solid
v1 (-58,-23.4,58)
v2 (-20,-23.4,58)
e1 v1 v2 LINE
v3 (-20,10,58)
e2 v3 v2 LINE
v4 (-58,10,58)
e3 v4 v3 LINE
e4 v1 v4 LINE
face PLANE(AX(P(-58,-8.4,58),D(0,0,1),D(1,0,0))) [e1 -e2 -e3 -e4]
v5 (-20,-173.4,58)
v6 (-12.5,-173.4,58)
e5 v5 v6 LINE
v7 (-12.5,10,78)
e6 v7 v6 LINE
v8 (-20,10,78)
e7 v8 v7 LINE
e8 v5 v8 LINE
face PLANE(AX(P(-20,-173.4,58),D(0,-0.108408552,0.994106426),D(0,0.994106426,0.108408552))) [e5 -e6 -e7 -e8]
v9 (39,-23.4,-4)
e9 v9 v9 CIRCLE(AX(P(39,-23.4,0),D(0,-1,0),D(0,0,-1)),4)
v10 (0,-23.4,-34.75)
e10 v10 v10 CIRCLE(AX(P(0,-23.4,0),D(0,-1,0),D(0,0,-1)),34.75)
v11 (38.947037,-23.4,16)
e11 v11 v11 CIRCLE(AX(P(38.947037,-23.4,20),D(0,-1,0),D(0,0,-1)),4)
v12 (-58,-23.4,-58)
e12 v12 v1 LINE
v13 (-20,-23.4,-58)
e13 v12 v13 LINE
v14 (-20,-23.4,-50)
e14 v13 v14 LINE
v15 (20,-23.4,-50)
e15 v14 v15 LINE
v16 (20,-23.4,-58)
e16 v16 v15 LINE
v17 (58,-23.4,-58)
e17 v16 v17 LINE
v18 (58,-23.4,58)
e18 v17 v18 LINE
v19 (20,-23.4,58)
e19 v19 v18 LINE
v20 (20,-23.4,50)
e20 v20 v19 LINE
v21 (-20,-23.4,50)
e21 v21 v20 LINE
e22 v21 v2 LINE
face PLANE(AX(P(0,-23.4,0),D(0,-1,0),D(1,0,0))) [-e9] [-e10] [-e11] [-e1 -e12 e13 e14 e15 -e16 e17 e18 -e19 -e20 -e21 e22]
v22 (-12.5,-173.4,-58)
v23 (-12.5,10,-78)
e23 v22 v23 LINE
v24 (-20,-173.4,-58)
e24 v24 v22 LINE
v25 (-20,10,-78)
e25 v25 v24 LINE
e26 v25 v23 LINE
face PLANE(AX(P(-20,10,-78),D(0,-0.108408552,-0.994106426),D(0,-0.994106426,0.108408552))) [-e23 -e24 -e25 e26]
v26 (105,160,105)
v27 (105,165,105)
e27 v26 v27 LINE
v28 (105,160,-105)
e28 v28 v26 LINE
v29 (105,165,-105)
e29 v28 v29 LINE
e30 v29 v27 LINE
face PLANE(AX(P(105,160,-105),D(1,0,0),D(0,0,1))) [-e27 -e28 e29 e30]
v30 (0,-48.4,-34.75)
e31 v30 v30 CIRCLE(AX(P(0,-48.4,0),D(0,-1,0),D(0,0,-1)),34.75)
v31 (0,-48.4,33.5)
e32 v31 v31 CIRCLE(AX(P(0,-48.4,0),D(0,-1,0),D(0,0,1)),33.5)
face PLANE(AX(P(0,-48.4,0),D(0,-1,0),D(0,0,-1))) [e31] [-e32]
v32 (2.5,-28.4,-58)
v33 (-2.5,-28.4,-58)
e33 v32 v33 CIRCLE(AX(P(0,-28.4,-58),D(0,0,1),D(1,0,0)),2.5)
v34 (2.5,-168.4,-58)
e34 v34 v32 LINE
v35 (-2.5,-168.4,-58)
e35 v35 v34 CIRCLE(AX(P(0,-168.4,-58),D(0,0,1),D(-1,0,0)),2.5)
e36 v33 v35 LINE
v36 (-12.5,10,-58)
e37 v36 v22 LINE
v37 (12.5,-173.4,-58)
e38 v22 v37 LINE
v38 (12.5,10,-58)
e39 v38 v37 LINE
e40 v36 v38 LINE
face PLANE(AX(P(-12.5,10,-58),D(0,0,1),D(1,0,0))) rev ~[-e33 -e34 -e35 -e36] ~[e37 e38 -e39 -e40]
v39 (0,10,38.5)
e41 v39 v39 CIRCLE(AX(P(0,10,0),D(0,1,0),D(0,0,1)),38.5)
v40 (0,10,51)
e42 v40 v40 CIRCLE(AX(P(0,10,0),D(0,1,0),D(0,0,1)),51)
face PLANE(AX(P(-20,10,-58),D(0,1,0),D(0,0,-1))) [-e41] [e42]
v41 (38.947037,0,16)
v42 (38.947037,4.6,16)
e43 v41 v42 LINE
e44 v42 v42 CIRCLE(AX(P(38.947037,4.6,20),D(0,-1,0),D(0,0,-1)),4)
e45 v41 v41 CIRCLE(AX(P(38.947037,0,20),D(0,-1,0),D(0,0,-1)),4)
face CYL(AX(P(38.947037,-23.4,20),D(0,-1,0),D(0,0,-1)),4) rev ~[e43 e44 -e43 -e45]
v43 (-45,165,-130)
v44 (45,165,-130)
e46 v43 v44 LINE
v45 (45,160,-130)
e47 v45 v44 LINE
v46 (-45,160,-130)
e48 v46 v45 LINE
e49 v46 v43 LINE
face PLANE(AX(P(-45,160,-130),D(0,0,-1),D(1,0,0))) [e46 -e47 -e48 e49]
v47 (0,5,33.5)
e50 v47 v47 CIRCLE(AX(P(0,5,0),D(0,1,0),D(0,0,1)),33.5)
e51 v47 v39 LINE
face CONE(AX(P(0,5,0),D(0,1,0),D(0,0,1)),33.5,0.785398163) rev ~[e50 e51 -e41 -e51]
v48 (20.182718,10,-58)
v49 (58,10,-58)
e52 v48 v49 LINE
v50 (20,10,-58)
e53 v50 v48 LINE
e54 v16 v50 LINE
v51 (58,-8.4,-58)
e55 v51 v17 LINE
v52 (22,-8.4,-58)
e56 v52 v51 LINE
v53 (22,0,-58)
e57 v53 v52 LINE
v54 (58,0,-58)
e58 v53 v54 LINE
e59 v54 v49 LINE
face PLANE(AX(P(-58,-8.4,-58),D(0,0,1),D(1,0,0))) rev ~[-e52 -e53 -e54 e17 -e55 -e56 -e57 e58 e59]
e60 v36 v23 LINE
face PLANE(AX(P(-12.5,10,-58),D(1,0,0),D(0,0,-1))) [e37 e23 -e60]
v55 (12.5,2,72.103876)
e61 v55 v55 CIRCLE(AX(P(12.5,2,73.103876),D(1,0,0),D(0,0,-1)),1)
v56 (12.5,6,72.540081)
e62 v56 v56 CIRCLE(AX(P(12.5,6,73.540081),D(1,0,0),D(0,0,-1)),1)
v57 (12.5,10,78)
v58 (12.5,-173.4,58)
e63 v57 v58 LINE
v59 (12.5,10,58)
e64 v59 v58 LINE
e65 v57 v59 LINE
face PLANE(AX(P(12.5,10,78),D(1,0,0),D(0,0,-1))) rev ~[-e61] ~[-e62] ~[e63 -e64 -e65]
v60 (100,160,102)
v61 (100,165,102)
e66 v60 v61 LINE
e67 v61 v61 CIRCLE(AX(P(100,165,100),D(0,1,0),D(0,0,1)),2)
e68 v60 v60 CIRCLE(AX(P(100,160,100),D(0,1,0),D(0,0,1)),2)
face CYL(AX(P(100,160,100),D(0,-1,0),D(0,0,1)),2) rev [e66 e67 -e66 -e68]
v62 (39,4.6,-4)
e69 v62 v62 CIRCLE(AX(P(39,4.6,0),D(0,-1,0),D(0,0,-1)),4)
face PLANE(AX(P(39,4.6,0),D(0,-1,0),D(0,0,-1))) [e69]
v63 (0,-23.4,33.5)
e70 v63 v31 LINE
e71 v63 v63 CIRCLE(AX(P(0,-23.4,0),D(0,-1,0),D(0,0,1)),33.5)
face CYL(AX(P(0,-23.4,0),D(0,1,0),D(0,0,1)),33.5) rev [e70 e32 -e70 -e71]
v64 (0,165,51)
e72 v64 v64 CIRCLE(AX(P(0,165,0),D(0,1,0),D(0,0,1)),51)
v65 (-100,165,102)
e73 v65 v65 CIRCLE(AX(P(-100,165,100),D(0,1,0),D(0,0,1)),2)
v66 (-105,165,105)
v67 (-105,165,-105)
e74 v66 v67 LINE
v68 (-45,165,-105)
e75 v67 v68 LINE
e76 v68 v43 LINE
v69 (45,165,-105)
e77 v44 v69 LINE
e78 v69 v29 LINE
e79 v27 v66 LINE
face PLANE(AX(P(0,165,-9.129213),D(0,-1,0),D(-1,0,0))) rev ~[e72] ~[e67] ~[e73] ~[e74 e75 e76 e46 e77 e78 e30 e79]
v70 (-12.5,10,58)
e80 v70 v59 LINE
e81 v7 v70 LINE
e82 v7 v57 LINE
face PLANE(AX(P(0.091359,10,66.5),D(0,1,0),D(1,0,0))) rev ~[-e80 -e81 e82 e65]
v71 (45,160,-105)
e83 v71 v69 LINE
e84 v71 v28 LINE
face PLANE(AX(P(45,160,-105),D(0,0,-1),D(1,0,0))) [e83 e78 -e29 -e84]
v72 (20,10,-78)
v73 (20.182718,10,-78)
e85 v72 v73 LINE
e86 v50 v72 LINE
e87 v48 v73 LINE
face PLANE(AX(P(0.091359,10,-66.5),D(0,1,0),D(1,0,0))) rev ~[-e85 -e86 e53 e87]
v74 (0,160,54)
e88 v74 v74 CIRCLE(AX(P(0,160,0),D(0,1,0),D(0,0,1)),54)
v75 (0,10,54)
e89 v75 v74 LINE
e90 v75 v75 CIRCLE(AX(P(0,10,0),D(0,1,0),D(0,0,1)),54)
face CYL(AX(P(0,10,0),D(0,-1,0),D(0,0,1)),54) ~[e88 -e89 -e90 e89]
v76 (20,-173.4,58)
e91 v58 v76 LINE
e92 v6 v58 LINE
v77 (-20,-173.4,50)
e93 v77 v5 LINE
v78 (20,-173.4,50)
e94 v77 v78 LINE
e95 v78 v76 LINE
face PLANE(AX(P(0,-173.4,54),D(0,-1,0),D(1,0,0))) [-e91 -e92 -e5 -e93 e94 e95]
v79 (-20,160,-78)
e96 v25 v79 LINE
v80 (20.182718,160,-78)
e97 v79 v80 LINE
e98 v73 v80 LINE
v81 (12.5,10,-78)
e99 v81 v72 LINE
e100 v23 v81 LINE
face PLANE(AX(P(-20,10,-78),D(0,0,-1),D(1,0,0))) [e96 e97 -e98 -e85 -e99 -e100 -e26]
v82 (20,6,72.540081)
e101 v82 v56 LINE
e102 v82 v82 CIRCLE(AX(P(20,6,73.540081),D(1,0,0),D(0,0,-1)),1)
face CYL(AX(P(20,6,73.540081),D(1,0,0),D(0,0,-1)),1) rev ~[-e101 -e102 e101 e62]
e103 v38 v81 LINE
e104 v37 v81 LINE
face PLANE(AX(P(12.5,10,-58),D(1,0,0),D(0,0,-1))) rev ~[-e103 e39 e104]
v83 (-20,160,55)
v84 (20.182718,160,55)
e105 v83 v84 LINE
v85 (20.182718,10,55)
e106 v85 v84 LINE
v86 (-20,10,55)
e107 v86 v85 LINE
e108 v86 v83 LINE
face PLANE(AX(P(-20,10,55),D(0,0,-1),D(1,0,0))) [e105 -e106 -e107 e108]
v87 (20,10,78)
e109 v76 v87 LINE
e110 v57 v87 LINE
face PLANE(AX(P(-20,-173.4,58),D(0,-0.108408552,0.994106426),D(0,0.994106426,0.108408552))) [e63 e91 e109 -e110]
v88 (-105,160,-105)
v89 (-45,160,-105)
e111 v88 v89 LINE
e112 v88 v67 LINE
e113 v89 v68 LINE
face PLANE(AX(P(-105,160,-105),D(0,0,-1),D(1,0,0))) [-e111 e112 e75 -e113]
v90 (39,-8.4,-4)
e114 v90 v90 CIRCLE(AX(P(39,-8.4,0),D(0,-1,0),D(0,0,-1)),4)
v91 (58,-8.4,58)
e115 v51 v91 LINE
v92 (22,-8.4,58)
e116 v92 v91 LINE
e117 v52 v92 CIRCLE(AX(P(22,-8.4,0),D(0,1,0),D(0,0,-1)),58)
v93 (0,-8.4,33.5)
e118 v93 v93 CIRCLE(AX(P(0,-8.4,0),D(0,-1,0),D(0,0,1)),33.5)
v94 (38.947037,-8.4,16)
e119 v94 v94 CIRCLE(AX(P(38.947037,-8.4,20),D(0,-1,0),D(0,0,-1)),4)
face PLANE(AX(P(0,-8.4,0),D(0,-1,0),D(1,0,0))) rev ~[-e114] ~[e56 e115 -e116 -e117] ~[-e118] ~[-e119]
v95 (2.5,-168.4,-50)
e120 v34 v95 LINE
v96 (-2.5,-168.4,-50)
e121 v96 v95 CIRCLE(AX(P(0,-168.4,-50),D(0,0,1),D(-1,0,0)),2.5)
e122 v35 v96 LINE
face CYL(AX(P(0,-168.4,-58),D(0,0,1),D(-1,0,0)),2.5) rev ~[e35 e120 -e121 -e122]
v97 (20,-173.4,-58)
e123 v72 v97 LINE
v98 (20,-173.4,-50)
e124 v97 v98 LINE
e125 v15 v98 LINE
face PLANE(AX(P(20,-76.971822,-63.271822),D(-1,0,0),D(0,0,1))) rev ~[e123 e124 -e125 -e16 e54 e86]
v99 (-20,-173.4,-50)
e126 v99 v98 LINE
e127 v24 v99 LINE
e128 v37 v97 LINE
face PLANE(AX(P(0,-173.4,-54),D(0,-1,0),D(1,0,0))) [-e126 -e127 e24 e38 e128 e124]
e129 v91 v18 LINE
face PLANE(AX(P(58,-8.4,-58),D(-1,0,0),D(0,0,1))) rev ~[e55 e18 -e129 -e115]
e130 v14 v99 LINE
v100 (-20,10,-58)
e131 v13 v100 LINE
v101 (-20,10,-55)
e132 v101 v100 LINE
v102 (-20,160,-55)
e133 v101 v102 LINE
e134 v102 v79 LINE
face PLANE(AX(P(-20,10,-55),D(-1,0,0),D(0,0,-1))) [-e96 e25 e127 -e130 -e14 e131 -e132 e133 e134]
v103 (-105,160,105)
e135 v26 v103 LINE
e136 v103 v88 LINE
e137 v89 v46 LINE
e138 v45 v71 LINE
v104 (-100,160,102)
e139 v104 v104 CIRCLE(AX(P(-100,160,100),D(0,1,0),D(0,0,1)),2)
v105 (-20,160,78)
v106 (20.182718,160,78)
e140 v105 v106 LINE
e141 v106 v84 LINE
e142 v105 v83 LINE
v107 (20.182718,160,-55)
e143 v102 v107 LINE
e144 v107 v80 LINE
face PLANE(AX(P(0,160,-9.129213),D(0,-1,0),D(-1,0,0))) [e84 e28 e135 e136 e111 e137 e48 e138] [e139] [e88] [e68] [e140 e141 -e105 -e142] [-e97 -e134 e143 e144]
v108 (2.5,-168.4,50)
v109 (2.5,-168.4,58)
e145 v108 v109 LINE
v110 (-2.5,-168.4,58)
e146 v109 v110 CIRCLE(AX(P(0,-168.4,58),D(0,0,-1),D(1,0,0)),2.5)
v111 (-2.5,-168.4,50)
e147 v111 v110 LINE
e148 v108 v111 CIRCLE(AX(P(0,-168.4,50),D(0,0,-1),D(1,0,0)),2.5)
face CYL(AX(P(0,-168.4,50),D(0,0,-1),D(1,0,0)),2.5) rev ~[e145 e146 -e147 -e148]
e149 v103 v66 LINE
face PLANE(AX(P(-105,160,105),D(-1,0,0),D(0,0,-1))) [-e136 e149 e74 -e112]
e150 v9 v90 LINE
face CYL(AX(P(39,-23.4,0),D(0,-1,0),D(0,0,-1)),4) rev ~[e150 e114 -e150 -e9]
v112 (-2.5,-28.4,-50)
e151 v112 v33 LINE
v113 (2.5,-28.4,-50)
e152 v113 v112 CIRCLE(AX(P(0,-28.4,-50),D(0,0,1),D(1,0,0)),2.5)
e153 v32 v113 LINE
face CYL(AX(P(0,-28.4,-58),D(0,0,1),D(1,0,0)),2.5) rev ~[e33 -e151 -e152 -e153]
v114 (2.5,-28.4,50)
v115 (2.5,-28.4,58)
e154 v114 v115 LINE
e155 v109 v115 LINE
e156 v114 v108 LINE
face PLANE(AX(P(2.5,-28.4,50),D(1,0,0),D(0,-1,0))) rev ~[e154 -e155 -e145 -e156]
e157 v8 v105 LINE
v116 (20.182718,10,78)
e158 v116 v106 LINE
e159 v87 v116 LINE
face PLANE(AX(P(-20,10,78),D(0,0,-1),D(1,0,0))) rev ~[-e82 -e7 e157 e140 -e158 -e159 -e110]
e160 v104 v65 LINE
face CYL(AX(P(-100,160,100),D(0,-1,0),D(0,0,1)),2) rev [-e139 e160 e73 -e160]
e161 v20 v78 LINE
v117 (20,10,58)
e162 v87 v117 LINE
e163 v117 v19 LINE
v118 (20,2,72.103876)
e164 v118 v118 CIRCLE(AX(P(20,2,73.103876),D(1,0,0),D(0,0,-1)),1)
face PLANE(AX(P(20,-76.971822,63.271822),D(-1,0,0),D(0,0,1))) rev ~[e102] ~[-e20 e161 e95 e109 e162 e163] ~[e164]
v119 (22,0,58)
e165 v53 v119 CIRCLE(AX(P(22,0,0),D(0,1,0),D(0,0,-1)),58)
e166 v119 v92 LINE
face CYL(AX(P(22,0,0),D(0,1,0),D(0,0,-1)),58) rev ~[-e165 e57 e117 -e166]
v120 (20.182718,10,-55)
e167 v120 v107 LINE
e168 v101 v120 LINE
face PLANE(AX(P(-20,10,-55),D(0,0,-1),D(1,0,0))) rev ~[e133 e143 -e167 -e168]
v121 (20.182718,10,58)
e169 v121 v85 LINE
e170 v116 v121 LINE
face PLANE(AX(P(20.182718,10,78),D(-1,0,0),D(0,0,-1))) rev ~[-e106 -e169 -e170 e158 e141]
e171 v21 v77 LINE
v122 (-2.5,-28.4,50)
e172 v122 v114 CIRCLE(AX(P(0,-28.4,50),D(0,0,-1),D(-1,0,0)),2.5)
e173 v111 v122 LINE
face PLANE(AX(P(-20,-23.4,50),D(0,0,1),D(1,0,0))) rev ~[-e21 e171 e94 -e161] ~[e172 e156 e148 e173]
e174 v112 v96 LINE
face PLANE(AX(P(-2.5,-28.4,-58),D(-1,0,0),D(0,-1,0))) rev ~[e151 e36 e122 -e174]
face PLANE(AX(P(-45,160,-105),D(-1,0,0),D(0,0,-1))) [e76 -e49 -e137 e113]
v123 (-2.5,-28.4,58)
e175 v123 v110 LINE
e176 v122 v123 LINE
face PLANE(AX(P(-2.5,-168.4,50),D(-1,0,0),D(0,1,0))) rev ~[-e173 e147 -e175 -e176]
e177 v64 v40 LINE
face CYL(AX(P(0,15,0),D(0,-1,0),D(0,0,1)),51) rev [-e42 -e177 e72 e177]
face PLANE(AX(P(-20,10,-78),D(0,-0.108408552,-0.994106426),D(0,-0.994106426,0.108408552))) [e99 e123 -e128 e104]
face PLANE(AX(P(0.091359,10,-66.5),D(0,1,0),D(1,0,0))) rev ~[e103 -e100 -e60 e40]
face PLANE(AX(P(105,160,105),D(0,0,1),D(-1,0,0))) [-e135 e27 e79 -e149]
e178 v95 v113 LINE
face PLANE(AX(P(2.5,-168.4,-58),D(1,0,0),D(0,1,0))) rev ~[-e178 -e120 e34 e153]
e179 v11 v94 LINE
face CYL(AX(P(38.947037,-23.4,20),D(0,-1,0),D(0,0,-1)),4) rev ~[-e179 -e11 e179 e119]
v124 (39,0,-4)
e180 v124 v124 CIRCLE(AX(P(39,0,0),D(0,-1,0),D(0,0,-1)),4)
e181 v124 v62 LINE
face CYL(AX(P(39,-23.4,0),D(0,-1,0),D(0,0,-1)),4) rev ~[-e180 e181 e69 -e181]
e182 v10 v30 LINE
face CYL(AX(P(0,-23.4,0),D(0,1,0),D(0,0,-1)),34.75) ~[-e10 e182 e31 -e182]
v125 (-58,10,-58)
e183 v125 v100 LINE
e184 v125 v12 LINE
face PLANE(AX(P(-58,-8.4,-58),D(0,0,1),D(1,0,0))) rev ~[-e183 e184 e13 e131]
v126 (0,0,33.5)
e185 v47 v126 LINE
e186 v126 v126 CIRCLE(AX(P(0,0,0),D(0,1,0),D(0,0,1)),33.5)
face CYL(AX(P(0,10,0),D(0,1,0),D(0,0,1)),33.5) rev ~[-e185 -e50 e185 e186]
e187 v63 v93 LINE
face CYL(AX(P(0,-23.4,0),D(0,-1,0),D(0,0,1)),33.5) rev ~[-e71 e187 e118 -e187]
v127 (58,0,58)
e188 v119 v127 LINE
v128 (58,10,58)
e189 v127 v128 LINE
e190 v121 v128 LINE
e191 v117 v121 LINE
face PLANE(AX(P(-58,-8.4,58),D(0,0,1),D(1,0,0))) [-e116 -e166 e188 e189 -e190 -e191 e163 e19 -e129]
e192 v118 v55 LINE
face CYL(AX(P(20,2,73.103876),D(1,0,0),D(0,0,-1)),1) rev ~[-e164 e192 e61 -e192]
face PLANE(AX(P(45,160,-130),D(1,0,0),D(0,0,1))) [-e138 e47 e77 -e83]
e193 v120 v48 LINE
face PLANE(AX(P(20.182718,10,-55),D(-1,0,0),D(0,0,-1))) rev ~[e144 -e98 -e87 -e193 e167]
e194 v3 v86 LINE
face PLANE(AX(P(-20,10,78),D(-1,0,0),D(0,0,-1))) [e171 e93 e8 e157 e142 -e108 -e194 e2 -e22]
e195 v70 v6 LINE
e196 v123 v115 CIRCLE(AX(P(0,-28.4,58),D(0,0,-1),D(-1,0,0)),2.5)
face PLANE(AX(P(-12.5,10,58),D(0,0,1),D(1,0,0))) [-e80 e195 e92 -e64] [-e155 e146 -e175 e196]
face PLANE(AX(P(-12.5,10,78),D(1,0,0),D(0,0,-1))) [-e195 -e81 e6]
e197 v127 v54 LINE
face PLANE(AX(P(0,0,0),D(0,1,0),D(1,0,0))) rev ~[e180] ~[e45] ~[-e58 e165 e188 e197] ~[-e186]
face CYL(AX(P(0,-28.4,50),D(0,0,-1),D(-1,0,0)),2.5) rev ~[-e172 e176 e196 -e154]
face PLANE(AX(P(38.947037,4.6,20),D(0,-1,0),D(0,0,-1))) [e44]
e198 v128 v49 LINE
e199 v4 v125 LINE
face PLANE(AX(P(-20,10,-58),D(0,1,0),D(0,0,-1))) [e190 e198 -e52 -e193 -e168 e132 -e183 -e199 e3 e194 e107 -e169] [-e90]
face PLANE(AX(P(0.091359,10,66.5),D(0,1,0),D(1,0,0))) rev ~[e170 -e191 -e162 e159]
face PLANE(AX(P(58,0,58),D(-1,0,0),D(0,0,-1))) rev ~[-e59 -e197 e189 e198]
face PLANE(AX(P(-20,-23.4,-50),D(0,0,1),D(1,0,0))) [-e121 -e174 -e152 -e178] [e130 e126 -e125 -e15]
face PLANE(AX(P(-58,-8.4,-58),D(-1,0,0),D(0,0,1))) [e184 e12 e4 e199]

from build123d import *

# Parameters (mm, degrees)
SKETCH4_W                      = 116
SKETCH4_H                      = 116
BOSS_EXTRUDE1_DEPTH            = 10
SKETCH6_R                      = 33.5
CUT_EXTRUDE1_DEPTH             = 83.63171304
BOSS_EXTRUDE3_DEPTH            = 8.4
SKETCH10_W                     = 116
SKETCH10_H                     = 116
BOSS_EXTRUDE5_DEPTH            = 15
SKETCH11_R                     = 4
POSITIONING_HOLE_DEPTH         = 28
SKETCH23_R                     = 4
SNAPPING_HOLE_DEPTH            = 28
SKETCH13_R                     = 34.75
SKETCH13_R_2                   = 33.5
BOSS_EXTRUDE6_DEPTH            = 25
SKETCH24_W                     = 40
SKETCH24_H                     = 8
BOSS_EXTRUDE7_DEPTH            = 150
BOSS_EXTRUDE9_DEPTH            = 40
CUT_EXTRUDE6_DEPTH             = 8
CUT_EXTRUDE6_DIRECTION_2_REACH = 229.876
CUT_EXTRUDE7_REACH             = 225.194
CUT_EXTRUDE9_REACH             = 209.566
SKETCH37_W                     = 25
SKETCH37_H                     = 20
SKETCH12_R                     = 33.5
MAIN_HOLE_DEPTH                = 179.740034687
SKETCH42_R                     = 54
SKETCH42_R_2                   = 51
BOSS_EXTRUDE12_DEPTH           = 150
CHAMFER3_SIZE                  = 5
SKETCH44_W                     = 40.182717611
SKETCH44_H                     = 23
BOSS_EXTRUDE15_DEPTH           = 150
SKETCH41_R                     = 2
BOSS_EXTRUDE11_DEPTH           = 5
CUT_EXTRUDE12_START            = -150
SKETCH45_R                     = 51
CUT_EXTRUDE12_DEPTH            = 150
SKETCH46_R                     = 1
CUT_EXTRUDE13_DEPTH            = 25


with BuildPart() as part:
    # Sketch4 → Boss-Extrude1 (new body)
    with BuildSketch(Plane(origin=(0, 0, 0), x_dir=(1, 0, 0), z_dir=(0, 1, 0))):
        Rectangle(SKETCH4_W, SKETCH4_H)
    extrude(amount=BOSS_EXTRUDE1_DEPTH)

    # Sketch6 → Cut-Extrude1 (cut, through all)
    with BuildSketch(Plane(origin=(0, 10, 0), x_dir=(1, 0, 0), z_dir=(0, 1, 0))):
        with Locations(Location((0, 0, 0), (0, 0, 270))):
            Circle(SKETCH6_R)
    extrude(amount=-CUT_EXTRUDE1_DEPTH, mode=Mode.SUBTRACT)

    # Sketch8 → Boss-Extrude3 (add)
    with BuildSketch(Plane.XZ):
        with BuildLine():
            Line((-58, 58), (-58, -58))
            Line((-58, -58), (22, -58))
            ThreePointArc((22, -58), (-36, 0), (22, 58))
            Line((22, 58), (-58, 58))
        make_face()
    extrude(amount=BOSS_EXTRUDE3_DEPTH)

    # Sketch10 → Boss-Extrude5 (add)
    with BuildSketch(Plane.XZ.offset(8.4)):
        Rectangle(SKETCH10_W, SKETCH10_H)
    extrude(amount=BOSS_EXTRUDE5_DEPTH)

    # Sketch11 → positioning hole (cut)
    with BuildSketch(Plane.XZ.offset(23.4)):
        with Locations(Location((39, 0, 0), (0, 0, 270))):
            Circle(SKETCH11_R)
    extrude(amount=-POSITIONING_HOLE_DEPTH, mode=Mode.SUBTRACT)

    # Sketch23 → snapping hole (cut)
    with BuildSketch(Plane.XZ.offset(23.4)):
        with Locations(Location((38.947036647, 20, 0), (0, 0, 270))):
            Circle(SKETCH23_R)
    extrude(amount=-SNAPPING_HOLE_DEPTH, mode=Mode.SUBTRACT)

    # Sketch13 → Boss-Extrude6 (add)
    with BuildSketch(Plane.XZ.offset(23.4)):
        with Locations(Location((0, 0, 0), (0, 0, 270))):
            Circle(SKETCH13_R)
        with Locations(Location((0, 0, 0), (0, 0, 90))):
            Circle(SKETCH13_R_2, mode=Mode.SUBTRACT)
    extrude(amount=BOSS_EXTRUDE6_DEPTH)

    # Sketch24 → Boss-Extrude7 (add)
    with BuildSketch(Plane.XZ.offset(23.4)):
        with Locations((0, 54)):
            Rectangle(SKETCH24_W, SKETCH24_H)
        with Locations((0, -54)):
            Rectangle(SKETCH24_W, SKETCH24_H)
    extrude(amount=BOSS_EXTRUDE7_DEPTH)

    # Sketch28 → Boss-Extrude9 (add)
    with BuildSketch(Plane.ZY.offset(20)):
        Polygon((-58, -173.4), (-58, 10), (-78, 10), align=None)
        Polygon((58, 10), (58, -173.4), (78, 10), align=None)
    extrude(amount=-BOSS_EXTRUDE9_DEPTH)

    # Sketch31 → Cut-Extrude6 (cut)
    with BuildSketch(Plane(origin=(0, 0, -58), x_dir=(-1, 0, 0), z_dir=(0, 0, -1))):
        with BuildLine():
            Line((2.5, -28.4), (2.5, -168.4))
            ThreePointArc((2.5, -168.4), (0, -170.9), (-2.5, -168.4))
            Line((-2.5, -168.4), (-2.5, -28.4))
            ThreePointArc((-2.5, -28.4), (0, -25.9), (2.5, -28.4))
        make_face()
    extrude(amount=-CUT_EXTRUDE6_DEPTH, mode=Mode.SUBTRACT)

    # Cut-Extrude6 direction 2: up to this plane
    cut_extrude6_direction_2_end = Plane(origin=(20, 10, -78), z_dir=(0, -0.1084085524287415, -0.9941064257715594))
    # Sketch31 → Cut-Extrude6 direction 2 (cut, up to the surface)
    with BuildSketch(Plane(origin=(0, 0, -58), x_dir=(-1, 0, 0), z_dir=(0, 0, -1)), mode=Mode.PRIVATE) as cut_extrude6_direction_2_sk1:
        with BuildLine():
            Line((2.5, -28.4), (2.5, -168.4))
            ThreePointArc((2.5, -168.4), (0, -170.9), (-2.5, -168.4))
            Line((-2.5, -168.4), (-2.5, -28.4))
            ThreePointArc((-2.5, -28.4), (0, -25.9), (2.5, -28.4))
        make_face()
    cut_extrude6_direction_2_tool1 = split(extrude(cut_extrude6_direction_2_sk1.sketch, amount=CUT_EXTRUDE6_DIRECTION_2_REACH, mode=Mode.PRIVATE), bisect_by=cut_extrude6_direction_2_end, keep=Keep.BOTH, mode=Mode.PRIVATE)
    add(cut_extrude6_direction_2_tool1.solids().sort_by_distance((0, -98.4, -58))[0], mode=Mode.SUBTRACT)

    # Cut-Extrude7: up to this plane
    cut_extrude7_end = Plane(origin=(20, -173.4, 58), z_dir=(0, -0.1084085524287415, 0.9941064257715594))
    # Sketch34 → Cut-Extrude7 (cut, up to the surface)
    with BuildSketch(Plane(origin=(0, 0, 50), x_dir=(-1, 0, 0), z_dir=(0, 0, -1)), mode=Mode.PRIVATE) as cut_extrude7_sk1:
        with BuildLine():
            Line((-2.5, -28.4), (-2.5, -168.4))
            ThreePointArc((-2.5, -168.4), (0, -170.9), (2.5, -168.4))
            Line((2.5, -168.4), (2.5, -28.4))
            ThreePointArc((2.5, -28.4), (0, -25.9), (-2.5, -28.4))
        make_face()
    cut_extrude7_tool1 = split(extrude(cut_extrude7_sk1.sketch, amount=-CUT_EXTRUDE7_REACH, mode=Mode.PRIVATE), bisect_by=cut_extrude7_end, keep=Keep.BOTH, mode=Mode.PRIVATE)
    add(cut_extrude7_tool1.solids().sort_by_distance((0, -98.4, 50))[0], mode=Mode.SUBTRACT)

    # Sketch37 → Cut-Extrude9 (cut, up to next)
    with BuildSketch(Plane(origin=(0, 10, 0), x_dir=(1, 0, 0), z_dir=(0, 1, 0)), mode=Mode.PRIVATE) as cut_extrude9_sk1:
        with Locations((0, 68)):
            Rectangle(SKETCH37_W, SKETCH37_H)
    cut_extrude9_tool1 = extrude(cut_extrude9_sk1.sketch, amount=-CUT_EXTRUDE9_REACH, mode=Mode.PRIVATE) & part.part
    # Sketch37 → Cut-Extrude9 (cut, up to next)
    with BuildSketch(Plane(origin=(0, 10, 0), x_dir=(1, 0, 0), z_dir=(0, 1, 0)), mode=Mode.PRIVATE) as cut_extrude9_sk2:
        with Locations((0, -68)):
            Rectangle(SKETCH37_W, SKETCH37_H)
    cut_extrude9_tool2 = extrude(cut_extrude9_sk2.sketch, amount=-CUT_EXTRUDE9_REACH, mode=Mode.PRIVATE) & part.part
    add(cut_extrude9_tool1.solids().sort_by_distance((0, 10, -68))[0], mode=Mode.SUBTRACT)
    add(cut_extrude9_tool2.solids().sort_by_distance((0, 10, 68))[0], mode=Mode.SUBTRACT)

    # Sketch12 → main hole (cut, through all)
    with BuildSketch(Plane.XZ.offset(23.4)):
        with Locations(Location((0, 0, 0), (0, 0, 90))):
            Circle(SKETCH12_R)
    extrude(amount=-MAIN_HOLE_DEPTH, mode=Mode.SUBTRACT)

    # Sketch42 → Boss-Extrude12 (add)
    with BuildSketch(Plane(origin=(0, 10, 0), x_dir=(1, 0, 0), z_dir=(0, 1, 0))):
        with Locations(Location((0, 0, 0), (0, 0, 270))):
            Circle(SKETCH42_R)
        with Locations(Location((0, 0, 0), (0, 0, 270))):
            Circle(SKETCH42_R_2, mode=Mode.SUBTRACT)
    extrude(amount=BOSS_EXTRUDE12_DEPTH)

    # Chamfer3
    chamfer3_edges = [part.edges().sort_by_distance(p)[0] for p in [
        (0, 10, -33.5),
    ]]
    chamfer(chamfer3_edges, length=CHAMFER3_SIZE)

    # Sketch44 → Boss-Extrude15 (add)
    with BuildSketch(Plane(origin=(0, 10, 0), x_dir=(1, 0, 0), z_dir=(0, 1, 0))):
        with Locations((0.091358806, 66.5)):
            Rectangle(SKETCH44_W, SKETCH44_H)
        with Locations((0.091358806, -66.5)):
            Rectangle(SKETCH44_W, SKETCH44_H)
    extrude(amount=BOSS_EXTRUDE15_DEPTH)

    # Sketch41 → Boss-Extrude11 (add)
    with BuildSketch(Plane(origin=(0, 160, 0), x_dir=(1, 0, 0), z_dir=(0, 1, 0))):
        Polygon((45, 105), (105, 105), (105, -105), (-105, -105), (-105, 105), (-45, 105), (-45, 130), (45, 130), align=None)
        with Locations(Location((-100, -100, 0), (0, 0, 270))):
            Circle(SKETCH41_R, mode=Mode.SUBTRACT)
        with Locations(Location((100, -100, 0), (0, 0, 270))):
            Circle(SKETCH41_R, mode=Mode.SUBTRACT)
    extrude(amount=BOSS_EXTRUDE11_DEPTH)

    # Sketch45 → Cut-Extrude12 (cut)
    with BuildSketch(Plane(origin=(0, 165, 0), x_dir=(1, 0, 0), z_dir=(0, 1, 0)).offset(CUT_EXTRUDE12_START)):
        with Locations(Location((0, 0, 0), (0, 0, 270))):
            Circle(SKETCH45_R)
    extrude(amount=CUT_EXTRUDE12_DEPTH, mode=Mode.SUBTRACT)

    # Sketch46 → Cut-Extrude13 (cut)
    with BuildSketch(Plane(origin=(20, 0, 0), x_dir=(0, 0, -1), z_dir=(1, 0, 0))):
        with Locations((-73.540080926, 6)):
            Circle(SKETCH46_R)
        with Locations((-73.10387591, 2)):
            Circle(SKETCH46_R)
    extrude(amount=-CUT_EXTRUDE13_DEPTH, mode=Mode.SUBTRACT)


solid = part.part
